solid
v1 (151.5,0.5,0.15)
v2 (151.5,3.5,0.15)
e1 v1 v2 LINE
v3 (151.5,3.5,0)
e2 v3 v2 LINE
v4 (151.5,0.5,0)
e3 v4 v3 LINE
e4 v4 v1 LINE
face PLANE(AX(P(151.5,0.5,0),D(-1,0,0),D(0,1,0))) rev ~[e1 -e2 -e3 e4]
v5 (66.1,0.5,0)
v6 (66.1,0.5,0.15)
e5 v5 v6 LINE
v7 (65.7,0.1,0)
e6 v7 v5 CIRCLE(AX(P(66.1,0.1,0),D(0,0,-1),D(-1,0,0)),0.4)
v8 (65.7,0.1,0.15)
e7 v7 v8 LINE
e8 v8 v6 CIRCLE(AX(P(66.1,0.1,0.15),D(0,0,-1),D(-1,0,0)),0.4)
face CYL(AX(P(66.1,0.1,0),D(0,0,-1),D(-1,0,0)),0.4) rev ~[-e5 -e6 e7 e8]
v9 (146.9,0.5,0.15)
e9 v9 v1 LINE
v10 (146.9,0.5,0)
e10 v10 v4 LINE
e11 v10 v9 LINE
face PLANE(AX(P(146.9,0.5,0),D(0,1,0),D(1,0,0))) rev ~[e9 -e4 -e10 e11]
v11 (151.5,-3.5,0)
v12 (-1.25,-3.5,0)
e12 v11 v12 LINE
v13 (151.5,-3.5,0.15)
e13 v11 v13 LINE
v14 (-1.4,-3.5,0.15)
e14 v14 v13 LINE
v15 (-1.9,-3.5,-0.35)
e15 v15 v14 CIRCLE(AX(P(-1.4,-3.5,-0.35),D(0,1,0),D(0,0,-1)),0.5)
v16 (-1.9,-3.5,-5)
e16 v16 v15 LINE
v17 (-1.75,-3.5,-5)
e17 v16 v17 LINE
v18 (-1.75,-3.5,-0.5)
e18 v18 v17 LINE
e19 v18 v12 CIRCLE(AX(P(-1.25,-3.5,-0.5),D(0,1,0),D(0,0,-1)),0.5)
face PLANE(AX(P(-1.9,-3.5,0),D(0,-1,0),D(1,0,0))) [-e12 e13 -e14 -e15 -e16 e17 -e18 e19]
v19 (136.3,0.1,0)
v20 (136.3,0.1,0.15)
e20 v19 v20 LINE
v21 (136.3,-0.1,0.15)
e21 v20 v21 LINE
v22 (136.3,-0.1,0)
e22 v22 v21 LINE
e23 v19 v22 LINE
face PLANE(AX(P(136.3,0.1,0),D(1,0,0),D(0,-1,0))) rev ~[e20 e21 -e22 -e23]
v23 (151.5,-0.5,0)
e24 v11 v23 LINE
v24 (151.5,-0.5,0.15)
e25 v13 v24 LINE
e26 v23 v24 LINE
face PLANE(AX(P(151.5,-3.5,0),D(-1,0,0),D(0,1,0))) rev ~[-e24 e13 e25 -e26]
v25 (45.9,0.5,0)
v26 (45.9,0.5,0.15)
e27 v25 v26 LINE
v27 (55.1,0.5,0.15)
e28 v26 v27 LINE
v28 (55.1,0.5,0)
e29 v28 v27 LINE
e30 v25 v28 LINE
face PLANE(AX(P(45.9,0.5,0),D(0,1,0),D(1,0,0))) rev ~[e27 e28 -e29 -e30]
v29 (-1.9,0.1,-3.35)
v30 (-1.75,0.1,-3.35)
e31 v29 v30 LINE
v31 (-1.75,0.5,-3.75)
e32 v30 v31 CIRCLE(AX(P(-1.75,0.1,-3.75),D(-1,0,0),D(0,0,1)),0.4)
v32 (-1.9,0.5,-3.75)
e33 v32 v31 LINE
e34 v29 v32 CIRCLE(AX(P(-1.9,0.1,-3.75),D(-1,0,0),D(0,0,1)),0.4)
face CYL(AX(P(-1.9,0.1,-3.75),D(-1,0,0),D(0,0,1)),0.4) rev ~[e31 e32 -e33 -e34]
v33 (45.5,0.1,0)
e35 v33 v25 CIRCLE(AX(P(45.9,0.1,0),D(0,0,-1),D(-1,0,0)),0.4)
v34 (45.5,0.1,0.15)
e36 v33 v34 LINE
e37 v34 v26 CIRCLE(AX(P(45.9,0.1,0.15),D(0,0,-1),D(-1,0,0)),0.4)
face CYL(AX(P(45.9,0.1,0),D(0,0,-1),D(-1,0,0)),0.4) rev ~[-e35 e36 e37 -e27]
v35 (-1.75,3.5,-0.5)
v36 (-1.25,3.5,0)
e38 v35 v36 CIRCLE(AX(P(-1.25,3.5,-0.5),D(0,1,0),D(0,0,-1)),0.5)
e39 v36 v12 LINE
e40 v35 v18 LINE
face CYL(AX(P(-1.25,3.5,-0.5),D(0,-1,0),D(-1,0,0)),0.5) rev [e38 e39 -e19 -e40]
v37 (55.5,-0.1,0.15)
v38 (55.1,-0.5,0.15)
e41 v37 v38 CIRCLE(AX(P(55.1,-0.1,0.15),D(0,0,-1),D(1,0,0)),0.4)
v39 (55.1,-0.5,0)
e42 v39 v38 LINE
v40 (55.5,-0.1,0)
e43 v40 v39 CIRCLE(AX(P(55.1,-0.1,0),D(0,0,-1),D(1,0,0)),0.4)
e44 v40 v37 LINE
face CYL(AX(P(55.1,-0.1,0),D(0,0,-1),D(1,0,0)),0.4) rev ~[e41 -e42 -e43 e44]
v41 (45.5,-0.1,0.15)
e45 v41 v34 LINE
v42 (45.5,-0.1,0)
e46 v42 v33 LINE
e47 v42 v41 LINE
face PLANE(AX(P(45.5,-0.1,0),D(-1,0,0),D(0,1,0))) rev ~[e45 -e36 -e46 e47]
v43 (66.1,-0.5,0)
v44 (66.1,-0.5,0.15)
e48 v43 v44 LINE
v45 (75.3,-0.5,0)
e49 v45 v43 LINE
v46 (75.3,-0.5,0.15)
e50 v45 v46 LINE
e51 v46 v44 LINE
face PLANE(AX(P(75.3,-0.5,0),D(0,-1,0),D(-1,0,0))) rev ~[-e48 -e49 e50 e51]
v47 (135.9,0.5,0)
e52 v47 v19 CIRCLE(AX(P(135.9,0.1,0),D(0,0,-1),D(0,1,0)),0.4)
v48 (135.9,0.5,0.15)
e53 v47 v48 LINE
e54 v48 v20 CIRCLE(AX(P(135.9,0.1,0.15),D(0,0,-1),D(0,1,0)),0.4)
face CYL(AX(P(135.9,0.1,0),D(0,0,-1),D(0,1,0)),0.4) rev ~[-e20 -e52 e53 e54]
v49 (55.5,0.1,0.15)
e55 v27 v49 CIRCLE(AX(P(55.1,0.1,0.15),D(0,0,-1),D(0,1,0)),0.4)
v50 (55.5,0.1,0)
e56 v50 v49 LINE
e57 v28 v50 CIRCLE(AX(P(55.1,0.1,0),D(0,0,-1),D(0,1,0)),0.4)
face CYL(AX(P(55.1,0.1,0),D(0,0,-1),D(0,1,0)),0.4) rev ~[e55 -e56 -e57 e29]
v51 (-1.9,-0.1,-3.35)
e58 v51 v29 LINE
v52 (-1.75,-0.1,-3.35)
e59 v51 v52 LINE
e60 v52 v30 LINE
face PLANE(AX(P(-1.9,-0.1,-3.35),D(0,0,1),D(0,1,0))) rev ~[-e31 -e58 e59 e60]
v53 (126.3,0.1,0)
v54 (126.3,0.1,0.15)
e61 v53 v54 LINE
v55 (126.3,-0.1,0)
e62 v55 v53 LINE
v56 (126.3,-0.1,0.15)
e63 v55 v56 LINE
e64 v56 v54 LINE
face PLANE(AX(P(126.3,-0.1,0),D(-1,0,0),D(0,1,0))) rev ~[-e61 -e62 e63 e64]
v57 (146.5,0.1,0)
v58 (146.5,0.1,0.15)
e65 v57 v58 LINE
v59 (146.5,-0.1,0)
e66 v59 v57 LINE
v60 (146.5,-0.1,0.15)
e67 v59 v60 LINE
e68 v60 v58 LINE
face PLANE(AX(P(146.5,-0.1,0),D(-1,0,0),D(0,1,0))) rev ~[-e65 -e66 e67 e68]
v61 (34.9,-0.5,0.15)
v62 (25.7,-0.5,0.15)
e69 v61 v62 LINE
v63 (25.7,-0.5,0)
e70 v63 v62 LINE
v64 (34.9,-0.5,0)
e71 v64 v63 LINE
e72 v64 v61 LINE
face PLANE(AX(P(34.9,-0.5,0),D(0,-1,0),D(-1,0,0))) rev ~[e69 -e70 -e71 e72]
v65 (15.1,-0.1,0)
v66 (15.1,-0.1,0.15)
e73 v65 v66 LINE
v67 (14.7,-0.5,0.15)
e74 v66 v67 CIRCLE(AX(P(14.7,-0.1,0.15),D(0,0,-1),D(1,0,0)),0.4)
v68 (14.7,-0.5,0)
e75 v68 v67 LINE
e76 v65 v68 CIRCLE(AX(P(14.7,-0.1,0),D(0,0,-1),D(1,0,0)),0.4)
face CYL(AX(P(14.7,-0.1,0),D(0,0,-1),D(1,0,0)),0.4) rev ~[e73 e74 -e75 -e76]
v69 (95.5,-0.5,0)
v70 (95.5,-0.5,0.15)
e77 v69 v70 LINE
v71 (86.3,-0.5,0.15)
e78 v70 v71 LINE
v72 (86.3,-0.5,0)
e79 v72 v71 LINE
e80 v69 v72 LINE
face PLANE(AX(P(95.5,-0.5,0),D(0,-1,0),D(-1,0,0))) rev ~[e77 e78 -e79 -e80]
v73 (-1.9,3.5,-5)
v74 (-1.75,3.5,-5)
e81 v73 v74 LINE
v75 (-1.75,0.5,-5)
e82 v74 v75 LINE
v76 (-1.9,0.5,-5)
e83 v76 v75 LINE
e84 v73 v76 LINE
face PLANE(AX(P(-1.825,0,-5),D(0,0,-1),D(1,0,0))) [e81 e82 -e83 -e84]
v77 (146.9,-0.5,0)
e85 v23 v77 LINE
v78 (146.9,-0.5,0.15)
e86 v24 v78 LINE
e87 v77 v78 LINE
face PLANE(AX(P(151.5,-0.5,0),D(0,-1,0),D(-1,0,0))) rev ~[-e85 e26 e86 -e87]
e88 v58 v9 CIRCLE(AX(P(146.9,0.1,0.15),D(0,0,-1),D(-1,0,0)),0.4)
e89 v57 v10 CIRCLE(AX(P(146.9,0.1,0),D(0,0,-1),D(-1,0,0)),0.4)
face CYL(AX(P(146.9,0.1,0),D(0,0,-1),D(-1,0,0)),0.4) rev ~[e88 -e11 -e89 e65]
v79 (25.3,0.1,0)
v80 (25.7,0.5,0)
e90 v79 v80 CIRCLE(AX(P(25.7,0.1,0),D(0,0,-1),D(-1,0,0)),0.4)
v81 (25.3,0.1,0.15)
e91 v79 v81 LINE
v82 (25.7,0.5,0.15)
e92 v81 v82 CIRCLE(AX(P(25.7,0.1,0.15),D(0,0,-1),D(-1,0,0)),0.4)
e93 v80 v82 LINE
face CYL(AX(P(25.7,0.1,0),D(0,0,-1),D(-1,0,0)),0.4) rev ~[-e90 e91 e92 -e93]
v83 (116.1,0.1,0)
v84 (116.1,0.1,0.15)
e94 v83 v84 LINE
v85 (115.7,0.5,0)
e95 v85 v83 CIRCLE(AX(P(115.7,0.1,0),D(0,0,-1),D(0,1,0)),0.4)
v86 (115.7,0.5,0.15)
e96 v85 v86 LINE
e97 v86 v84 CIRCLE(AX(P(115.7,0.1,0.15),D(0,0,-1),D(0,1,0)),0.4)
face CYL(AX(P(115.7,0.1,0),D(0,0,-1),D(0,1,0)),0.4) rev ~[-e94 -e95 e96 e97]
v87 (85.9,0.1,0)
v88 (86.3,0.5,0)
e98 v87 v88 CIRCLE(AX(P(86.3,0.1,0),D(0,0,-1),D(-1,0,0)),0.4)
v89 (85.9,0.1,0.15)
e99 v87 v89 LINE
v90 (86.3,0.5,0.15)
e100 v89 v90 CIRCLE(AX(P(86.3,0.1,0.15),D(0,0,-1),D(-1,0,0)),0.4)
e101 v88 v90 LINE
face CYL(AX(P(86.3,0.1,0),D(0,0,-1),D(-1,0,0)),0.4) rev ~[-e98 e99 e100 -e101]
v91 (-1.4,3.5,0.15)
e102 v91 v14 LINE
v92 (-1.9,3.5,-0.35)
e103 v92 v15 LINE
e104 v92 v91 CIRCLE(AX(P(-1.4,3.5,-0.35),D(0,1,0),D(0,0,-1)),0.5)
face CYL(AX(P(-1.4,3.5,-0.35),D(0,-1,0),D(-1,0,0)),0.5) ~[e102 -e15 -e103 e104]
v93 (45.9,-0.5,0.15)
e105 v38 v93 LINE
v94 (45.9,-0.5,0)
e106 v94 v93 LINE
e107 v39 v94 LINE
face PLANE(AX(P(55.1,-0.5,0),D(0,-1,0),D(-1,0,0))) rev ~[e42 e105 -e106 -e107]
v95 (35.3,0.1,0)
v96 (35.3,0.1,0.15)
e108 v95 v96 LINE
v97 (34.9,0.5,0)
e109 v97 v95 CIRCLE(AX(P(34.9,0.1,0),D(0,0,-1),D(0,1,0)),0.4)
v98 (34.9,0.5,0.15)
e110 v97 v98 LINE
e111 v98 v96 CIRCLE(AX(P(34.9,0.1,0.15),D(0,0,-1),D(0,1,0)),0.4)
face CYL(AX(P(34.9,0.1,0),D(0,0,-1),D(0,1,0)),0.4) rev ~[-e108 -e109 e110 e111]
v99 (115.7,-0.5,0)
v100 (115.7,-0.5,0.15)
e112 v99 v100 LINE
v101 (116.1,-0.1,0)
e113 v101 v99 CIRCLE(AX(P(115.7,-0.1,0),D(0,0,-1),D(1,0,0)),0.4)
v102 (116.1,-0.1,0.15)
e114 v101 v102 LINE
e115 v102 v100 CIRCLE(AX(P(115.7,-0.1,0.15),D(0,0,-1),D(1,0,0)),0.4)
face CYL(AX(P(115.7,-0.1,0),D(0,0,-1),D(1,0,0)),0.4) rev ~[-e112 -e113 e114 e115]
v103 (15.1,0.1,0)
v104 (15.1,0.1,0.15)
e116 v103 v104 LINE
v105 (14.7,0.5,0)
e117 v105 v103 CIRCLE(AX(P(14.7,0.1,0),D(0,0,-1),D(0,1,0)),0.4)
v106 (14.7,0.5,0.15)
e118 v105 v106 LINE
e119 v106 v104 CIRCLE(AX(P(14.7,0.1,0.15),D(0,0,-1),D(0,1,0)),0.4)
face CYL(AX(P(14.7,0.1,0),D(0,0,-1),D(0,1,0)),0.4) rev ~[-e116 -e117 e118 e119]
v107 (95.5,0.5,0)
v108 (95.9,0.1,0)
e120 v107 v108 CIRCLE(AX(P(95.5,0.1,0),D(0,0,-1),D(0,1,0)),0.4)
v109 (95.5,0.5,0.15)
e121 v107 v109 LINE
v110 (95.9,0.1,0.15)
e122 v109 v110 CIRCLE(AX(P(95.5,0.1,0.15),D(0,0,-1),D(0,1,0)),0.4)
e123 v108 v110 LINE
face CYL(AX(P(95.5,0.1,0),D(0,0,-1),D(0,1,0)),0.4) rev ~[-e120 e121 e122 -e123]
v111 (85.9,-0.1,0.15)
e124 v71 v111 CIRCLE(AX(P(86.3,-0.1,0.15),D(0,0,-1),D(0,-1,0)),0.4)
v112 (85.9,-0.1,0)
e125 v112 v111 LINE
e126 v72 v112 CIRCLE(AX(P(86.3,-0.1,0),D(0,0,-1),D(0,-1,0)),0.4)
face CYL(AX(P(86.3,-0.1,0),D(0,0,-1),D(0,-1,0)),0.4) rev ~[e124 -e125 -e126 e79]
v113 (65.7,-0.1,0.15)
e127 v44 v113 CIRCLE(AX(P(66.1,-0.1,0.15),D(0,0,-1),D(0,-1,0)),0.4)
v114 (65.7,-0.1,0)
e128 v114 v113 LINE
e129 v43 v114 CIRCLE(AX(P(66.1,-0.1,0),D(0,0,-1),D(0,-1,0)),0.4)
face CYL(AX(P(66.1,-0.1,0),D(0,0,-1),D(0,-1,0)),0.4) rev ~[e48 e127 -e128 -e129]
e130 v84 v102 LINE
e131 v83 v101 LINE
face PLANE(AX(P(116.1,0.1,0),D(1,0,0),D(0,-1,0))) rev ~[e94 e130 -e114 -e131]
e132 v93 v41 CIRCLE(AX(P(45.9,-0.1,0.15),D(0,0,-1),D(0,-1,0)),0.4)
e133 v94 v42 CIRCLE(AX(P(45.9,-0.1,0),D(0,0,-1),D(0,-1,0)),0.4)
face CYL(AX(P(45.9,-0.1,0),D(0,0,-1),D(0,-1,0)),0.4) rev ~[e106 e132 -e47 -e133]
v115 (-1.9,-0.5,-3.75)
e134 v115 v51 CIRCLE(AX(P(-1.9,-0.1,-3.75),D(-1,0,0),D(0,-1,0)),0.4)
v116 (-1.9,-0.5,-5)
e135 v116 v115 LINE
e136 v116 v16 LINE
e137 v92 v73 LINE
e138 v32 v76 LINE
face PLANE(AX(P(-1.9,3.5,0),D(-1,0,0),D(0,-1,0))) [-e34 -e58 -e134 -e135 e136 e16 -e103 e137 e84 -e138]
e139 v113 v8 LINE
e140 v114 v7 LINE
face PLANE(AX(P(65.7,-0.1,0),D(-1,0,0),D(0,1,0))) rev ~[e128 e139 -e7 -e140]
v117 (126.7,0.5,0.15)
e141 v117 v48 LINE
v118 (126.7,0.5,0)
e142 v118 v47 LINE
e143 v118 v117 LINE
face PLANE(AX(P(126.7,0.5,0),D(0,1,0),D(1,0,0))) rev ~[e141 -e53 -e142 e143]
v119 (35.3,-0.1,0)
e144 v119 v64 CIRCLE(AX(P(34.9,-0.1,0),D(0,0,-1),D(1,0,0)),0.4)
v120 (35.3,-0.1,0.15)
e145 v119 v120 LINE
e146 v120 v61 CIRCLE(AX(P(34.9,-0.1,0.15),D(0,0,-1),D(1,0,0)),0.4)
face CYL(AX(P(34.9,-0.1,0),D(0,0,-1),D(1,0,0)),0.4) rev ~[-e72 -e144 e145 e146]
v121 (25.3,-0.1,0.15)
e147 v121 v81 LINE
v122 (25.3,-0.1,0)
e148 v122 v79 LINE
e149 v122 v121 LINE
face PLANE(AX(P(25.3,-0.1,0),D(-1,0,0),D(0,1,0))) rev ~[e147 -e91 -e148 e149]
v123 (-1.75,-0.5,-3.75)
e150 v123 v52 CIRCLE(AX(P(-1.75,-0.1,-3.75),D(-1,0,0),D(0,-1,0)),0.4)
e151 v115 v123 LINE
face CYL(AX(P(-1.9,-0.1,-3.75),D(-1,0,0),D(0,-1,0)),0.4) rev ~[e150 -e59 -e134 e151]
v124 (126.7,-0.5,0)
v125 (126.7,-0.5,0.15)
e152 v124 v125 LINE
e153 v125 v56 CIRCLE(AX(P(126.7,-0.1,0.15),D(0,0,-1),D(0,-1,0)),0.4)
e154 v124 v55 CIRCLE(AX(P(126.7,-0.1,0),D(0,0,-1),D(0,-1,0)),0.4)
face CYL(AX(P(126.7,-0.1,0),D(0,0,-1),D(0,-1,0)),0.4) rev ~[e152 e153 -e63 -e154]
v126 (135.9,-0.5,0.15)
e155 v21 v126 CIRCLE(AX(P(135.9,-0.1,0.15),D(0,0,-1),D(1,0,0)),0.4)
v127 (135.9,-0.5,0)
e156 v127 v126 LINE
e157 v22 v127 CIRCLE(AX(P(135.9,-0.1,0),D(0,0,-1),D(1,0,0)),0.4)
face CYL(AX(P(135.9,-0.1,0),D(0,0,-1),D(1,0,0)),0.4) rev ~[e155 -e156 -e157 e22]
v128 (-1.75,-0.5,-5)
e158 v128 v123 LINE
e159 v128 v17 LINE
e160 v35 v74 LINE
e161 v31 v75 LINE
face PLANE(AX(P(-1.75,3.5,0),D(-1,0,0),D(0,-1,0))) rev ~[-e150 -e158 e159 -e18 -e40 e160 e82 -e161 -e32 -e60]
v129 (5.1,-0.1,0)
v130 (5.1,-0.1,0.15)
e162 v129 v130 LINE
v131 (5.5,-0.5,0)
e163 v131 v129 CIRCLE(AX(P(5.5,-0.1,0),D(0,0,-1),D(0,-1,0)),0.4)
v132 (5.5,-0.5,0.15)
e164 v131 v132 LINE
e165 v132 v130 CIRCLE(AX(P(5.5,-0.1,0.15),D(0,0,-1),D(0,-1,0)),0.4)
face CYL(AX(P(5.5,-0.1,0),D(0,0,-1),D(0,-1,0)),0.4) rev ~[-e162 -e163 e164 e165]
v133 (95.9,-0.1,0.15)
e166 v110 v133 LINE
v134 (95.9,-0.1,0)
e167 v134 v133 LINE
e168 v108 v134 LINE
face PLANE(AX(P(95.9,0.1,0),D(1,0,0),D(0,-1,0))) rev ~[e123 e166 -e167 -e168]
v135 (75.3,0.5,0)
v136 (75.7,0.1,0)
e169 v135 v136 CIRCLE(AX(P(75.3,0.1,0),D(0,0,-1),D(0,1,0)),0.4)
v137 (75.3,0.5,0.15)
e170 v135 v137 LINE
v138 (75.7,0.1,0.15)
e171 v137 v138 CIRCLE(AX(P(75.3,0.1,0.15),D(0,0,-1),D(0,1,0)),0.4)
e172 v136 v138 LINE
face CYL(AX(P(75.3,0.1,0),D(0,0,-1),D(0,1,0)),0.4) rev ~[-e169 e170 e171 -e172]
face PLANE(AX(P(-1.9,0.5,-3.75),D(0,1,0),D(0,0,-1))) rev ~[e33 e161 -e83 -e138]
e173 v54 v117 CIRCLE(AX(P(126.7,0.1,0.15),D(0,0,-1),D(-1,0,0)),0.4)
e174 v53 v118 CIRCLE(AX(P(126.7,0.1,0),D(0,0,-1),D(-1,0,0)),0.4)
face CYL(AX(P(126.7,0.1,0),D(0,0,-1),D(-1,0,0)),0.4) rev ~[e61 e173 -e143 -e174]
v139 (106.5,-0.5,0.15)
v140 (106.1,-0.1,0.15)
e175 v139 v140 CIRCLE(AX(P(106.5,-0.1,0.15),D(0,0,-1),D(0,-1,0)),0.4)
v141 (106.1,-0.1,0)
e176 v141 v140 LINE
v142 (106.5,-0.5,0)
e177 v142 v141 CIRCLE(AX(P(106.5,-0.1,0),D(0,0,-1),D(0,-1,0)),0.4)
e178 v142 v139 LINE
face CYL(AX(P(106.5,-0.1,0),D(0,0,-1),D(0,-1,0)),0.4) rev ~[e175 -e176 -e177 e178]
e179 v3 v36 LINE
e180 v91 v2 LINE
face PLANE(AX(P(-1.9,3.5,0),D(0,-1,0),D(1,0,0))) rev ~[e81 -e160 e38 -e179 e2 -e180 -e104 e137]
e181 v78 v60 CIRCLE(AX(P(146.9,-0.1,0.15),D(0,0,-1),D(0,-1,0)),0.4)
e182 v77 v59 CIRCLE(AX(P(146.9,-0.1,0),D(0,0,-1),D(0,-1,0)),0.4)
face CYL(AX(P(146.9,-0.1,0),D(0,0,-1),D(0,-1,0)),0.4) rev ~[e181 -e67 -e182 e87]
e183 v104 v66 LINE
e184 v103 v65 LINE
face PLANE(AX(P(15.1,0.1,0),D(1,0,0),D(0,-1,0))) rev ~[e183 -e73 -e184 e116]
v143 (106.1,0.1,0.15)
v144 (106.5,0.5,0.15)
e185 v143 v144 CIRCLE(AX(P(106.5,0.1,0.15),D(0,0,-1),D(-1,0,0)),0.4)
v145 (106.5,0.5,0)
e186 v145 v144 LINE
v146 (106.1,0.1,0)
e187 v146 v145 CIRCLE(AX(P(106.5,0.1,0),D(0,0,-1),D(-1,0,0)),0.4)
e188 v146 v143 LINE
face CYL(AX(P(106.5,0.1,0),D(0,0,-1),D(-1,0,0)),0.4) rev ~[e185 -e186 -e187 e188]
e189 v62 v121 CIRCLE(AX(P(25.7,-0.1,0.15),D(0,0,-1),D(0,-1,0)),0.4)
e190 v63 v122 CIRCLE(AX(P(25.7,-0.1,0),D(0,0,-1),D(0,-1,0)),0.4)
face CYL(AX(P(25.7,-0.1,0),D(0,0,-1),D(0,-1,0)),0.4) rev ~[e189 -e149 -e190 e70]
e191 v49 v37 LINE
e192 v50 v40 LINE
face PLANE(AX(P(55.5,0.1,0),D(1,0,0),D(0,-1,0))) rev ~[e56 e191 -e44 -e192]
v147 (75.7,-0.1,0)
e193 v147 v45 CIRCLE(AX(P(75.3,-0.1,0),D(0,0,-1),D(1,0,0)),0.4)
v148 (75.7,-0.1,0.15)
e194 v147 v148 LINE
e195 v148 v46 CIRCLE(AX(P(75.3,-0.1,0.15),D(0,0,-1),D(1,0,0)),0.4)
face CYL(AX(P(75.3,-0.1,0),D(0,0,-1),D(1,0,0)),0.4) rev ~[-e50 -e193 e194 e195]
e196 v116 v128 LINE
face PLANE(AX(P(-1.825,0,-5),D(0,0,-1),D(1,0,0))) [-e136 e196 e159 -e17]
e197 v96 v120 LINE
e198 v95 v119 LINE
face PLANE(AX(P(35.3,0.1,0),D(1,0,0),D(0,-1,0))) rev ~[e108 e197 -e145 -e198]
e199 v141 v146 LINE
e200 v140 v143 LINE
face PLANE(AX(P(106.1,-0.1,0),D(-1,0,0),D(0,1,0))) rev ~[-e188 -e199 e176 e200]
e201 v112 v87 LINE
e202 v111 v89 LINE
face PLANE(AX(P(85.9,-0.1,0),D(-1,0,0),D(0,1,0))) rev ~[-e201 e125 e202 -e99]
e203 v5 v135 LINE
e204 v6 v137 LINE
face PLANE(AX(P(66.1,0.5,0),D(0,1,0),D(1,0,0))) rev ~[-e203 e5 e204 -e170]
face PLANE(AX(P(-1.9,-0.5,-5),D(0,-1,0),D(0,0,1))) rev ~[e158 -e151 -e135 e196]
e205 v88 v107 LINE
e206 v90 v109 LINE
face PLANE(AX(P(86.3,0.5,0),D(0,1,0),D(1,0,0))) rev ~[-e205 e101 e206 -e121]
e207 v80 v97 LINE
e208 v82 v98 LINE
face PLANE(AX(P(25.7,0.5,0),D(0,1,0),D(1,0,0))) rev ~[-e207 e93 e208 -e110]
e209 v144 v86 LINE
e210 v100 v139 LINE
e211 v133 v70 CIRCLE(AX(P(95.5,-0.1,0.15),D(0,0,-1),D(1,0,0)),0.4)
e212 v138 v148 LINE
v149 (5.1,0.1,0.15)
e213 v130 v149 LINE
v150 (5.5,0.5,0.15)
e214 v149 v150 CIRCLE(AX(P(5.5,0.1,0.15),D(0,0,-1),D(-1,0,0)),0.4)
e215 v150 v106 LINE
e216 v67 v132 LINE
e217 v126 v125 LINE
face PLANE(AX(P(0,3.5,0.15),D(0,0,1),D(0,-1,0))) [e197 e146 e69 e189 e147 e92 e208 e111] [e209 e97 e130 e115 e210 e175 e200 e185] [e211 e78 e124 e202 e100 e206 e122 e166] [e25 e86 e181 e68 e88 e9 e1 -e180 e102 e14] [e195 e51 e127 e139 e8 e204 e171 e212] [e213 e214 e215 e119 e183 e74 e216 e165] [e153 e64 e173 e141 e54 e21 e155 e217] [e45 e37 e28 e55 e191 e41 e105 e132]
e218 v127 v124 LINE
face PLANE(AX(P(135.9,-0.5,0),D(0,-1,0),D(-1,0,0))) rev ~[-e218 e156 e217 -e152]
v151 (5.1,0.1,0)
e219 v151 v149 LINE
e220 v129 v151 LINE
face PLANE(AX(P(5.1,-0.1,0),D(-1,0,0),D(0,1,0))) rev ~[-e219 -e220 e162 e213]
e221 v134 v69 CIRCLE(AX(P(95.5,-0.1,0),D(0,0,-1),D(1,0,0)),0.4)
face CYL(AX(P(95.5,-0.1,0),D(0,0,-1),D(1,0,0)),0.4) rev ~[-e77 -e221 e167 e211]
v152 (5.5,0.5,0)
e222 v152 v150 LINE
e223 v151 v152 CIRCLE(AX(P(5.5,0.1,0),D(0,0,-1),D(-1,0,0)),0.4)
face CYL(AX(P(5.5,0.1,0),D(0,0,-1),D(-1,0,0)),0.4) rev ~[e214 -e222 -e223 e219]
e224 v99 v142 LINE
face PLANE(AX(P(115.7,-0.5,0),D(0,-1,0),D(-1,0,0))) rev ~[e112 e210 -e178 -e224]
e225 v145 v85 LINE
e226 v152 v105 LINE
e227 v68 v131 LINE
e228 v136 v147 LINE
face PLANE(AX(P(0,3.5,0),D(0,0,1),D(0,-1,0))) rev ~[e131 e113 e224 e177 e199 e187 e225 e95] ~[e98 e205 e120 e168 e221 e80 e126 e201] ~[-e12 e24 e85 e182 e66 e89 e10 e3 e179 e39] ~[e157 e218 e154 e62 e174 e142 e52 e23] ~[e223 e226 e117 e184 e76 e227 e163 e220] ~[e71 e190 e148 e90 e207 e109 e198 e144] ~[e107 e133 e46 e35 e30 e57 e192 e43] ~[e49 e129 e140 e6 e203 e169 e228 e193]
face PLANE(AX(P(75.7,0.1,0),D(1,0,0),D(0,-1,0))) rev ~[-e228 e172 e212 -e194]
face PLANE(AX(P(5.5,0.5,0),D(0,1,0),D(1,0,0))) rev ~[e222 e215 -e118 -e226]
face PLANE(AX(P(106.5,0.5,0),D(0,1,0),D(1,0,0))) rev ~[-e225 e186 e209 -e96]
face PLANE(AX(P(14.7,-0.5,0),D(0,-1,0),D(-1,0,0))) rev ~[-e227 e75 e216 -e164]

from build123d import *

# Parameters (mm, degrees)
F0_W     = 3
F0_H     = 3
F1_DEPTH = 0.15
F2_DEPTH = 1.9
F3_W     = 0.15
F3_H     = 7
F4_DEPTH = 5
F6_DEPTH = 25
F7_R     = 0.5


with BuildPart() as f1:
    # F0 (on Top) → F1 (new body)
    with BuildSketch(Plane.XY):
        with Locations((72.2, 2)):
            Rectangle(F0_W, F0_H)
        with BuildLine():
            Line((10.1, -0.5), (10.1, -3.5))
            Line((10.1, -3.5), (20.2, -3.5))
            Line((20.2, -3.5), (30.3, -3.5))
            Line((30.3, -3.5), (30.3, -0.5))
            Line((30.3, -0.5), (25.7, -0.5))
            ThreePointArc((25.7, -0.5), (25.4171572875, -0.3828427125), (25.3, -0.1))
            Line((25.3, -0.1), (25.3, 0.1))
            ThreePointArc((25.3, 0.1), (25.4171572875, 0.3828427125), (25.7, 0.5))
            Line((25.7, 0.5), (30.3, 0.5))
            Line((30.3, 0.5), (30.3, 3.5))
            Line((30.3, 3.5), (20.2, 3.5))
            Line((20.2, 3.5), (10.1, 3.5))
            Line((10.1, 3.5), (10.1, 0.5))
            Line((10.1, 0.5), (14.7, 0.5))
            ThreePointArc((14.7, 0.5), (14.9828427125, 0.3828427125), (15.1, 0.1))
            Line((15.1, 0.1), (15.1, -0.1))
            ThreePointArc((15.1, -0.1), (14.9828427125, -0.3828427125), (14.7, -0.5))
            Line((14.7, -0.5), (10.1, -0.5))
        make_face()
        with BuildLine():
            Line((30.3, -0.5), (30.3, -3.5))
            Line((30.3, -3.5), (40.4, -3.5))
            Line((40.4, -3.5), (50.5, -3.5))
            Line((50.5, -3.5), (50.5, -0.5))
            Line((50.5, -0.5), (45.9, -0.5))
            ThreePointArc((45.9, -0.5), (45.6171572875, -0.3828427125), (45.5, -0.1))
            Line((45.5, -0.1), (45.5, 0.1))
            ThreePointArc((45.5, 0.1), (45.6171572875, 0.3828427125), (45.9, 0.5))
            Line((45.9, 0.5), (50.5, 0.5))
            Line((50.5, 0.5), (50.5, 3.5))
            Line((50.5, 3.5), (40.4, 3.5))
            Line((40.4, 3.5), (30.3, 3.5))
            Line((30.3, 3.5), (30.3, 0.5))
            Line((30.3, 0.5), (34.9, 0.5))
            ThreePointArc((34.9, 0.5), (35.1828427125, 0.3828427125), (35.3, 0.1))
            Line((35.3, 0.1), (35.3, -0.1))
            ThreePointArc((35.3, -0.1), (35.1828427125, -0.3828427125), (34.9, -0.5))
            Line((34.9, -0.5), (30.3, -0.5))
        make_face()
        with BuildLine():
            Line((50.5, -0.5), (50.5, -3.5))
            Line((50.5, -3.5), (60.6, -3.5))
            Line((60.6, -3.5), (70.7, -3.5))
            Line((70.7, -3.5), (70.7, -0.5))
            Line((70.7, -0.5), (66.1, -0.5))
            ThreePointArc((66.1, -0.5), (65.8171572875, -0.3828427125), (65.7, -0.1))
            Line((65.7, -0.1), (65.7, 0.1))
            ThreePointArc((65.7, 0.1), (65.8171572875, 0.3828427125), (66.1, 0.5))
            Line((66.1, 0.5), (70.7, 0.5))
            Line((70.7, 0.5), (70.7, 3.5))
            Line((70.7, 3.5), (60.6, 3.5))
            Line((60.6, 3.5), (50.5, 3.5))
            Line((50.5, 3.5), (50.5, 0.5))
            Line((50.5, 0.5), (55.1, 0.5))
            ThreePointArc((55.1, 0.5), (55.3828427125, 0.3828427125), (55.5, 0.1))
            Line((55.5, 0.1), (55.5, -0.1))
            ThreePointArc((55.5, -0.1), (55.3828427125, -0.3828427125), (55.1, -0.5))
            Line((55.1, -0.5), (50.5, -0.5))
        make_face()
        with BuildLine():
            Line((0, 3.5), (0, -3.5))
            Line((0, -3.5), (10.1, -3.5))
            Line((10.1, -3.5), (10.1, -0.5))
            Line((10.1, -0.5), (5.5, -0.5))
            ThreePointArc((5.5, -0.5), (5.2171572875, -0.3828427125), (5.1, -0.1))
            Line((5.1, -0.1), (5.1, 0.1))
            ThreePointArc((5.1, 0.1), (5.2171572875, 0.3828427125), (5.5, 0.5))
            Line((5.5, 0.5), (10.1, 0.5))
            Line((10.1, 0.5), (10.1, 3.5))
            Line((10.1, 3.5), (0, 3.5))
        make_face()
        with Locations((72.2, -2)):
            Rectangle(F0_W, F0_H)
        with BuildLine():
            Line((73.7, -0.5), (73.7, -3.5))
            Line((73.7, -3.5), (80.8, -3.5))
            Line((80.8, -3.5), (90.9, -3.5))
            Line((90.9, -3.5), (90.9, -0.5))
            Line((90.9, -0.5), (86.3, -0.5))
            ThreePointArc((86.3, -0.5), (86.0171572875, -0.3828427125), (85.9, -0.1))
            Line((85.9, -0.1), (85.9, 0.1))
            ThreePointArc((85.9, 0.1), (86.0171572875, 0.3828427125), (86.3, 0.5))
            Line((86.3, 0.5), (90.9, 0.5))
            Line((90.9, 0.5), (90.9, 3.5))
            Line((90.9, 3.5), (80.8, 3.5))
            Line((80.8, 3.5), (73.7, 3.5))
            Line((73.7, 3.5), (73.7, 0.5))
            Line((73.7, 0.5), (75.3, 0.5))
            ThreePointArc((75.3, 0.5), (75.5828427125, 0.3828427125), (75.7, 0.1))
            Line((75.7, 0.1), (75.7, -0.1))
            ThreePointArc((75.7, -0.1), (75.5828427125, -0.3828427125), (75.3, -0.5))
            Line((75.3, -0.5), (73.7, -0.5))
        make_face()
        with BuildLine():
            Line((90.9, -0.5), (90.9, -3.5))
            Line((90.9, -3.5), (101, -3.5))
            Line((101, -3.5), (111.1, -3.5))
            Line((111.1, -3.5), (111.1, -0.5))
            Line((111.1, -0.5), (106.5, -0.5))
            ThreePointArc((106.5, -0.5), (106.2171572875, -0.3828427125), (106.1, -0.1))
            Line((106.1, -0.1), (106.1, 0.1))
            ThreePointArc((106.1, 0.1), (106.2171572875, 0.3828427125), (106.5, 0.5))
            Line((106.5, 0.5), (111.1, 0.5))
            Line((111.1, 0.5), (111.1, 3.5))
            Line((111.1, 3.5), (101, 3.5))
            Line((101, 3.5), (90.9, 3.5))
            Line((90.9, 3.5), (90.9, 0.5))
            Line((90.9, 0.5), (95.5, 0.5))
            ThreePointArc((95.5, 0.5), (95.7828427125, 0.3828427125), (95.9, 0.1))
            Line((95.9, 0.1), (95.9, -0.1))
            ThreePointArc((95.9, -0.1), (95.7828427125, -0.3828427125), (95.5, -0.5))
            Line((95.5, -0.5), (90.9, -0.5))
        make_face()
        with BuildLine():
            Line((111.1, -0.5), (111.1, -3.5))
            Line((111.1, -3.5), (121.2, -3.5))
            Line((121.2, -3.5), (131.3, -3.5))
            Line((131.3, -3.5), (131.3, -0.5))
            Line((131.3, -0.5), (126.7, -0.5))
            ThreePointArc((126.7, -0.5), (126.4171572875, -0.3828427125), (126.3, -0.1))
            Line((126.3, -0.1), (126.3, 0.1))
            ThreePointArc((126.3, 0.1), (126.4171572875, 0.3828427125), (126.7, 0.5))
            Line((126.7, 0.5), (131.3, 0.5))
            Line((131.3, 0.5), (131.3, 3.5))
            Line((131.3, 3.5), (121.2, 3.5))
            Line((121.2, 3.5), (111.1, 3.5))
            Line((111.1, 3.5), (111.1, 0.5))
            Line((111.1, 0.5), (115.7, 0.5))
            ThreePointArc((115.7, 0.5), (115.9828427125, 0.3828427125), (116.1, 0.1))
            Line((116.1, 0.1), (116.1, -0.1))
            ThreePointArc((116.1, -0.1), (115.9828427125, -0.3828427125), (115.7, -0.5))
            Line((115.7, -0.5), (111.1, -0.5))
        make_face()
        with BuildLine():
            Line((131.3, -0.5), (131.3, -3.5))
            Line((131.3, -3.5), (141.4, -3.5))
            Line((141.4, -3.5), (151.5, -3.5))
            Line((151.5, -3.5), (151.5, -0.5))
            Line((151.5, -0.5), (146.9, -0.5))
            ThreePointArc((146.9, -0.5), (146.6171572875, -0.3828427125), (146.5, -0.1))
            Line((146.5, -0.1), (146.5, 0.1))
            ThreePointArc((146.5, 0.1), (146.6171572875, 0.3828427125), (146.9, 0.5))
            Line((146.9, 0.5), (151.5, 0.5))
            Line((151.5, 0.5), (151.5, 3.5))
            Line((151.5, 3.5), (141.4, 3.5))
            Line((141.4, 3.5), (131.3, 3.5))
            Line((131.3, 3.5), (131.3, 0.5))
            Line((131.3, 0.5), (135.9, 0.5))
            ThreePointArc((135.9, 0.5), (136.1828427125, 0.3828427125), (136.3, 0.1))
            Line((136.3, 0.1), (136.3, -0.1))
            ThreePointArc((136.3, -0.1), (136.1828427125, -0.3828427125), (135.9, -0.5))
            Line((135.9, -0.5), (131.3, -0.5))
        make_face()
    extrude(amount=F1_DEPTH)

    # F2 (add): a face of the model
    f2_faces = [f1.faces().sort_by_distance(p)[0] for p in [
        (0, 0, 0.075),
    ]]
    extrude(f2_faces, amount=F2_DEPTH)

    # F3 (on face) → F4 (join)
    with BuildSketch(Plane(origin=(0, 0, 0), x_dir=(1, 0, 0), z_dir=(0, 0, -1))):
        with Locations((-1.825, 0)):
            Rectangle(F3_W, F3_H)
    extrude(amount=F4_DEPTH)

    # F5 (on face) → F6 (cut)
    with BuildSketch(Plane(origin=(-1.9, 0, 0), x_dir=(0, -1, 0), z_dir=(-1, 0, 0))):
        with BuildLine():
            ThreePointArc((0.5, -3.75), (0.3828427125, -3.4671572875), (0.1, -3.35))
            Line((0.1, -3.35), (-0.1, -3.35))
            ThreePointArc((-0.1, -3.35), (-0.3828427125, -3.4671572875), (-0.5, -3.75))
            Line((-0.5, -3.75), (-0.5, -5))
            Line((-0.5, -5), (0.5, -5))
            Line((0.5, -5), (0.5, -3.75))
        make_face()
    extrude(amount=-F6_DEPTH, mode=Mode.SUBTRACT)

    # F7
    f7_edges = [f1.edges().sort_by_distance(p)[0] for p in [
        (-1.9, 0, 0.15),
        (-1.75, 0, 0),
    ]]
    fillet(f7_edges, radius=F7_R)


solid = f1.part
